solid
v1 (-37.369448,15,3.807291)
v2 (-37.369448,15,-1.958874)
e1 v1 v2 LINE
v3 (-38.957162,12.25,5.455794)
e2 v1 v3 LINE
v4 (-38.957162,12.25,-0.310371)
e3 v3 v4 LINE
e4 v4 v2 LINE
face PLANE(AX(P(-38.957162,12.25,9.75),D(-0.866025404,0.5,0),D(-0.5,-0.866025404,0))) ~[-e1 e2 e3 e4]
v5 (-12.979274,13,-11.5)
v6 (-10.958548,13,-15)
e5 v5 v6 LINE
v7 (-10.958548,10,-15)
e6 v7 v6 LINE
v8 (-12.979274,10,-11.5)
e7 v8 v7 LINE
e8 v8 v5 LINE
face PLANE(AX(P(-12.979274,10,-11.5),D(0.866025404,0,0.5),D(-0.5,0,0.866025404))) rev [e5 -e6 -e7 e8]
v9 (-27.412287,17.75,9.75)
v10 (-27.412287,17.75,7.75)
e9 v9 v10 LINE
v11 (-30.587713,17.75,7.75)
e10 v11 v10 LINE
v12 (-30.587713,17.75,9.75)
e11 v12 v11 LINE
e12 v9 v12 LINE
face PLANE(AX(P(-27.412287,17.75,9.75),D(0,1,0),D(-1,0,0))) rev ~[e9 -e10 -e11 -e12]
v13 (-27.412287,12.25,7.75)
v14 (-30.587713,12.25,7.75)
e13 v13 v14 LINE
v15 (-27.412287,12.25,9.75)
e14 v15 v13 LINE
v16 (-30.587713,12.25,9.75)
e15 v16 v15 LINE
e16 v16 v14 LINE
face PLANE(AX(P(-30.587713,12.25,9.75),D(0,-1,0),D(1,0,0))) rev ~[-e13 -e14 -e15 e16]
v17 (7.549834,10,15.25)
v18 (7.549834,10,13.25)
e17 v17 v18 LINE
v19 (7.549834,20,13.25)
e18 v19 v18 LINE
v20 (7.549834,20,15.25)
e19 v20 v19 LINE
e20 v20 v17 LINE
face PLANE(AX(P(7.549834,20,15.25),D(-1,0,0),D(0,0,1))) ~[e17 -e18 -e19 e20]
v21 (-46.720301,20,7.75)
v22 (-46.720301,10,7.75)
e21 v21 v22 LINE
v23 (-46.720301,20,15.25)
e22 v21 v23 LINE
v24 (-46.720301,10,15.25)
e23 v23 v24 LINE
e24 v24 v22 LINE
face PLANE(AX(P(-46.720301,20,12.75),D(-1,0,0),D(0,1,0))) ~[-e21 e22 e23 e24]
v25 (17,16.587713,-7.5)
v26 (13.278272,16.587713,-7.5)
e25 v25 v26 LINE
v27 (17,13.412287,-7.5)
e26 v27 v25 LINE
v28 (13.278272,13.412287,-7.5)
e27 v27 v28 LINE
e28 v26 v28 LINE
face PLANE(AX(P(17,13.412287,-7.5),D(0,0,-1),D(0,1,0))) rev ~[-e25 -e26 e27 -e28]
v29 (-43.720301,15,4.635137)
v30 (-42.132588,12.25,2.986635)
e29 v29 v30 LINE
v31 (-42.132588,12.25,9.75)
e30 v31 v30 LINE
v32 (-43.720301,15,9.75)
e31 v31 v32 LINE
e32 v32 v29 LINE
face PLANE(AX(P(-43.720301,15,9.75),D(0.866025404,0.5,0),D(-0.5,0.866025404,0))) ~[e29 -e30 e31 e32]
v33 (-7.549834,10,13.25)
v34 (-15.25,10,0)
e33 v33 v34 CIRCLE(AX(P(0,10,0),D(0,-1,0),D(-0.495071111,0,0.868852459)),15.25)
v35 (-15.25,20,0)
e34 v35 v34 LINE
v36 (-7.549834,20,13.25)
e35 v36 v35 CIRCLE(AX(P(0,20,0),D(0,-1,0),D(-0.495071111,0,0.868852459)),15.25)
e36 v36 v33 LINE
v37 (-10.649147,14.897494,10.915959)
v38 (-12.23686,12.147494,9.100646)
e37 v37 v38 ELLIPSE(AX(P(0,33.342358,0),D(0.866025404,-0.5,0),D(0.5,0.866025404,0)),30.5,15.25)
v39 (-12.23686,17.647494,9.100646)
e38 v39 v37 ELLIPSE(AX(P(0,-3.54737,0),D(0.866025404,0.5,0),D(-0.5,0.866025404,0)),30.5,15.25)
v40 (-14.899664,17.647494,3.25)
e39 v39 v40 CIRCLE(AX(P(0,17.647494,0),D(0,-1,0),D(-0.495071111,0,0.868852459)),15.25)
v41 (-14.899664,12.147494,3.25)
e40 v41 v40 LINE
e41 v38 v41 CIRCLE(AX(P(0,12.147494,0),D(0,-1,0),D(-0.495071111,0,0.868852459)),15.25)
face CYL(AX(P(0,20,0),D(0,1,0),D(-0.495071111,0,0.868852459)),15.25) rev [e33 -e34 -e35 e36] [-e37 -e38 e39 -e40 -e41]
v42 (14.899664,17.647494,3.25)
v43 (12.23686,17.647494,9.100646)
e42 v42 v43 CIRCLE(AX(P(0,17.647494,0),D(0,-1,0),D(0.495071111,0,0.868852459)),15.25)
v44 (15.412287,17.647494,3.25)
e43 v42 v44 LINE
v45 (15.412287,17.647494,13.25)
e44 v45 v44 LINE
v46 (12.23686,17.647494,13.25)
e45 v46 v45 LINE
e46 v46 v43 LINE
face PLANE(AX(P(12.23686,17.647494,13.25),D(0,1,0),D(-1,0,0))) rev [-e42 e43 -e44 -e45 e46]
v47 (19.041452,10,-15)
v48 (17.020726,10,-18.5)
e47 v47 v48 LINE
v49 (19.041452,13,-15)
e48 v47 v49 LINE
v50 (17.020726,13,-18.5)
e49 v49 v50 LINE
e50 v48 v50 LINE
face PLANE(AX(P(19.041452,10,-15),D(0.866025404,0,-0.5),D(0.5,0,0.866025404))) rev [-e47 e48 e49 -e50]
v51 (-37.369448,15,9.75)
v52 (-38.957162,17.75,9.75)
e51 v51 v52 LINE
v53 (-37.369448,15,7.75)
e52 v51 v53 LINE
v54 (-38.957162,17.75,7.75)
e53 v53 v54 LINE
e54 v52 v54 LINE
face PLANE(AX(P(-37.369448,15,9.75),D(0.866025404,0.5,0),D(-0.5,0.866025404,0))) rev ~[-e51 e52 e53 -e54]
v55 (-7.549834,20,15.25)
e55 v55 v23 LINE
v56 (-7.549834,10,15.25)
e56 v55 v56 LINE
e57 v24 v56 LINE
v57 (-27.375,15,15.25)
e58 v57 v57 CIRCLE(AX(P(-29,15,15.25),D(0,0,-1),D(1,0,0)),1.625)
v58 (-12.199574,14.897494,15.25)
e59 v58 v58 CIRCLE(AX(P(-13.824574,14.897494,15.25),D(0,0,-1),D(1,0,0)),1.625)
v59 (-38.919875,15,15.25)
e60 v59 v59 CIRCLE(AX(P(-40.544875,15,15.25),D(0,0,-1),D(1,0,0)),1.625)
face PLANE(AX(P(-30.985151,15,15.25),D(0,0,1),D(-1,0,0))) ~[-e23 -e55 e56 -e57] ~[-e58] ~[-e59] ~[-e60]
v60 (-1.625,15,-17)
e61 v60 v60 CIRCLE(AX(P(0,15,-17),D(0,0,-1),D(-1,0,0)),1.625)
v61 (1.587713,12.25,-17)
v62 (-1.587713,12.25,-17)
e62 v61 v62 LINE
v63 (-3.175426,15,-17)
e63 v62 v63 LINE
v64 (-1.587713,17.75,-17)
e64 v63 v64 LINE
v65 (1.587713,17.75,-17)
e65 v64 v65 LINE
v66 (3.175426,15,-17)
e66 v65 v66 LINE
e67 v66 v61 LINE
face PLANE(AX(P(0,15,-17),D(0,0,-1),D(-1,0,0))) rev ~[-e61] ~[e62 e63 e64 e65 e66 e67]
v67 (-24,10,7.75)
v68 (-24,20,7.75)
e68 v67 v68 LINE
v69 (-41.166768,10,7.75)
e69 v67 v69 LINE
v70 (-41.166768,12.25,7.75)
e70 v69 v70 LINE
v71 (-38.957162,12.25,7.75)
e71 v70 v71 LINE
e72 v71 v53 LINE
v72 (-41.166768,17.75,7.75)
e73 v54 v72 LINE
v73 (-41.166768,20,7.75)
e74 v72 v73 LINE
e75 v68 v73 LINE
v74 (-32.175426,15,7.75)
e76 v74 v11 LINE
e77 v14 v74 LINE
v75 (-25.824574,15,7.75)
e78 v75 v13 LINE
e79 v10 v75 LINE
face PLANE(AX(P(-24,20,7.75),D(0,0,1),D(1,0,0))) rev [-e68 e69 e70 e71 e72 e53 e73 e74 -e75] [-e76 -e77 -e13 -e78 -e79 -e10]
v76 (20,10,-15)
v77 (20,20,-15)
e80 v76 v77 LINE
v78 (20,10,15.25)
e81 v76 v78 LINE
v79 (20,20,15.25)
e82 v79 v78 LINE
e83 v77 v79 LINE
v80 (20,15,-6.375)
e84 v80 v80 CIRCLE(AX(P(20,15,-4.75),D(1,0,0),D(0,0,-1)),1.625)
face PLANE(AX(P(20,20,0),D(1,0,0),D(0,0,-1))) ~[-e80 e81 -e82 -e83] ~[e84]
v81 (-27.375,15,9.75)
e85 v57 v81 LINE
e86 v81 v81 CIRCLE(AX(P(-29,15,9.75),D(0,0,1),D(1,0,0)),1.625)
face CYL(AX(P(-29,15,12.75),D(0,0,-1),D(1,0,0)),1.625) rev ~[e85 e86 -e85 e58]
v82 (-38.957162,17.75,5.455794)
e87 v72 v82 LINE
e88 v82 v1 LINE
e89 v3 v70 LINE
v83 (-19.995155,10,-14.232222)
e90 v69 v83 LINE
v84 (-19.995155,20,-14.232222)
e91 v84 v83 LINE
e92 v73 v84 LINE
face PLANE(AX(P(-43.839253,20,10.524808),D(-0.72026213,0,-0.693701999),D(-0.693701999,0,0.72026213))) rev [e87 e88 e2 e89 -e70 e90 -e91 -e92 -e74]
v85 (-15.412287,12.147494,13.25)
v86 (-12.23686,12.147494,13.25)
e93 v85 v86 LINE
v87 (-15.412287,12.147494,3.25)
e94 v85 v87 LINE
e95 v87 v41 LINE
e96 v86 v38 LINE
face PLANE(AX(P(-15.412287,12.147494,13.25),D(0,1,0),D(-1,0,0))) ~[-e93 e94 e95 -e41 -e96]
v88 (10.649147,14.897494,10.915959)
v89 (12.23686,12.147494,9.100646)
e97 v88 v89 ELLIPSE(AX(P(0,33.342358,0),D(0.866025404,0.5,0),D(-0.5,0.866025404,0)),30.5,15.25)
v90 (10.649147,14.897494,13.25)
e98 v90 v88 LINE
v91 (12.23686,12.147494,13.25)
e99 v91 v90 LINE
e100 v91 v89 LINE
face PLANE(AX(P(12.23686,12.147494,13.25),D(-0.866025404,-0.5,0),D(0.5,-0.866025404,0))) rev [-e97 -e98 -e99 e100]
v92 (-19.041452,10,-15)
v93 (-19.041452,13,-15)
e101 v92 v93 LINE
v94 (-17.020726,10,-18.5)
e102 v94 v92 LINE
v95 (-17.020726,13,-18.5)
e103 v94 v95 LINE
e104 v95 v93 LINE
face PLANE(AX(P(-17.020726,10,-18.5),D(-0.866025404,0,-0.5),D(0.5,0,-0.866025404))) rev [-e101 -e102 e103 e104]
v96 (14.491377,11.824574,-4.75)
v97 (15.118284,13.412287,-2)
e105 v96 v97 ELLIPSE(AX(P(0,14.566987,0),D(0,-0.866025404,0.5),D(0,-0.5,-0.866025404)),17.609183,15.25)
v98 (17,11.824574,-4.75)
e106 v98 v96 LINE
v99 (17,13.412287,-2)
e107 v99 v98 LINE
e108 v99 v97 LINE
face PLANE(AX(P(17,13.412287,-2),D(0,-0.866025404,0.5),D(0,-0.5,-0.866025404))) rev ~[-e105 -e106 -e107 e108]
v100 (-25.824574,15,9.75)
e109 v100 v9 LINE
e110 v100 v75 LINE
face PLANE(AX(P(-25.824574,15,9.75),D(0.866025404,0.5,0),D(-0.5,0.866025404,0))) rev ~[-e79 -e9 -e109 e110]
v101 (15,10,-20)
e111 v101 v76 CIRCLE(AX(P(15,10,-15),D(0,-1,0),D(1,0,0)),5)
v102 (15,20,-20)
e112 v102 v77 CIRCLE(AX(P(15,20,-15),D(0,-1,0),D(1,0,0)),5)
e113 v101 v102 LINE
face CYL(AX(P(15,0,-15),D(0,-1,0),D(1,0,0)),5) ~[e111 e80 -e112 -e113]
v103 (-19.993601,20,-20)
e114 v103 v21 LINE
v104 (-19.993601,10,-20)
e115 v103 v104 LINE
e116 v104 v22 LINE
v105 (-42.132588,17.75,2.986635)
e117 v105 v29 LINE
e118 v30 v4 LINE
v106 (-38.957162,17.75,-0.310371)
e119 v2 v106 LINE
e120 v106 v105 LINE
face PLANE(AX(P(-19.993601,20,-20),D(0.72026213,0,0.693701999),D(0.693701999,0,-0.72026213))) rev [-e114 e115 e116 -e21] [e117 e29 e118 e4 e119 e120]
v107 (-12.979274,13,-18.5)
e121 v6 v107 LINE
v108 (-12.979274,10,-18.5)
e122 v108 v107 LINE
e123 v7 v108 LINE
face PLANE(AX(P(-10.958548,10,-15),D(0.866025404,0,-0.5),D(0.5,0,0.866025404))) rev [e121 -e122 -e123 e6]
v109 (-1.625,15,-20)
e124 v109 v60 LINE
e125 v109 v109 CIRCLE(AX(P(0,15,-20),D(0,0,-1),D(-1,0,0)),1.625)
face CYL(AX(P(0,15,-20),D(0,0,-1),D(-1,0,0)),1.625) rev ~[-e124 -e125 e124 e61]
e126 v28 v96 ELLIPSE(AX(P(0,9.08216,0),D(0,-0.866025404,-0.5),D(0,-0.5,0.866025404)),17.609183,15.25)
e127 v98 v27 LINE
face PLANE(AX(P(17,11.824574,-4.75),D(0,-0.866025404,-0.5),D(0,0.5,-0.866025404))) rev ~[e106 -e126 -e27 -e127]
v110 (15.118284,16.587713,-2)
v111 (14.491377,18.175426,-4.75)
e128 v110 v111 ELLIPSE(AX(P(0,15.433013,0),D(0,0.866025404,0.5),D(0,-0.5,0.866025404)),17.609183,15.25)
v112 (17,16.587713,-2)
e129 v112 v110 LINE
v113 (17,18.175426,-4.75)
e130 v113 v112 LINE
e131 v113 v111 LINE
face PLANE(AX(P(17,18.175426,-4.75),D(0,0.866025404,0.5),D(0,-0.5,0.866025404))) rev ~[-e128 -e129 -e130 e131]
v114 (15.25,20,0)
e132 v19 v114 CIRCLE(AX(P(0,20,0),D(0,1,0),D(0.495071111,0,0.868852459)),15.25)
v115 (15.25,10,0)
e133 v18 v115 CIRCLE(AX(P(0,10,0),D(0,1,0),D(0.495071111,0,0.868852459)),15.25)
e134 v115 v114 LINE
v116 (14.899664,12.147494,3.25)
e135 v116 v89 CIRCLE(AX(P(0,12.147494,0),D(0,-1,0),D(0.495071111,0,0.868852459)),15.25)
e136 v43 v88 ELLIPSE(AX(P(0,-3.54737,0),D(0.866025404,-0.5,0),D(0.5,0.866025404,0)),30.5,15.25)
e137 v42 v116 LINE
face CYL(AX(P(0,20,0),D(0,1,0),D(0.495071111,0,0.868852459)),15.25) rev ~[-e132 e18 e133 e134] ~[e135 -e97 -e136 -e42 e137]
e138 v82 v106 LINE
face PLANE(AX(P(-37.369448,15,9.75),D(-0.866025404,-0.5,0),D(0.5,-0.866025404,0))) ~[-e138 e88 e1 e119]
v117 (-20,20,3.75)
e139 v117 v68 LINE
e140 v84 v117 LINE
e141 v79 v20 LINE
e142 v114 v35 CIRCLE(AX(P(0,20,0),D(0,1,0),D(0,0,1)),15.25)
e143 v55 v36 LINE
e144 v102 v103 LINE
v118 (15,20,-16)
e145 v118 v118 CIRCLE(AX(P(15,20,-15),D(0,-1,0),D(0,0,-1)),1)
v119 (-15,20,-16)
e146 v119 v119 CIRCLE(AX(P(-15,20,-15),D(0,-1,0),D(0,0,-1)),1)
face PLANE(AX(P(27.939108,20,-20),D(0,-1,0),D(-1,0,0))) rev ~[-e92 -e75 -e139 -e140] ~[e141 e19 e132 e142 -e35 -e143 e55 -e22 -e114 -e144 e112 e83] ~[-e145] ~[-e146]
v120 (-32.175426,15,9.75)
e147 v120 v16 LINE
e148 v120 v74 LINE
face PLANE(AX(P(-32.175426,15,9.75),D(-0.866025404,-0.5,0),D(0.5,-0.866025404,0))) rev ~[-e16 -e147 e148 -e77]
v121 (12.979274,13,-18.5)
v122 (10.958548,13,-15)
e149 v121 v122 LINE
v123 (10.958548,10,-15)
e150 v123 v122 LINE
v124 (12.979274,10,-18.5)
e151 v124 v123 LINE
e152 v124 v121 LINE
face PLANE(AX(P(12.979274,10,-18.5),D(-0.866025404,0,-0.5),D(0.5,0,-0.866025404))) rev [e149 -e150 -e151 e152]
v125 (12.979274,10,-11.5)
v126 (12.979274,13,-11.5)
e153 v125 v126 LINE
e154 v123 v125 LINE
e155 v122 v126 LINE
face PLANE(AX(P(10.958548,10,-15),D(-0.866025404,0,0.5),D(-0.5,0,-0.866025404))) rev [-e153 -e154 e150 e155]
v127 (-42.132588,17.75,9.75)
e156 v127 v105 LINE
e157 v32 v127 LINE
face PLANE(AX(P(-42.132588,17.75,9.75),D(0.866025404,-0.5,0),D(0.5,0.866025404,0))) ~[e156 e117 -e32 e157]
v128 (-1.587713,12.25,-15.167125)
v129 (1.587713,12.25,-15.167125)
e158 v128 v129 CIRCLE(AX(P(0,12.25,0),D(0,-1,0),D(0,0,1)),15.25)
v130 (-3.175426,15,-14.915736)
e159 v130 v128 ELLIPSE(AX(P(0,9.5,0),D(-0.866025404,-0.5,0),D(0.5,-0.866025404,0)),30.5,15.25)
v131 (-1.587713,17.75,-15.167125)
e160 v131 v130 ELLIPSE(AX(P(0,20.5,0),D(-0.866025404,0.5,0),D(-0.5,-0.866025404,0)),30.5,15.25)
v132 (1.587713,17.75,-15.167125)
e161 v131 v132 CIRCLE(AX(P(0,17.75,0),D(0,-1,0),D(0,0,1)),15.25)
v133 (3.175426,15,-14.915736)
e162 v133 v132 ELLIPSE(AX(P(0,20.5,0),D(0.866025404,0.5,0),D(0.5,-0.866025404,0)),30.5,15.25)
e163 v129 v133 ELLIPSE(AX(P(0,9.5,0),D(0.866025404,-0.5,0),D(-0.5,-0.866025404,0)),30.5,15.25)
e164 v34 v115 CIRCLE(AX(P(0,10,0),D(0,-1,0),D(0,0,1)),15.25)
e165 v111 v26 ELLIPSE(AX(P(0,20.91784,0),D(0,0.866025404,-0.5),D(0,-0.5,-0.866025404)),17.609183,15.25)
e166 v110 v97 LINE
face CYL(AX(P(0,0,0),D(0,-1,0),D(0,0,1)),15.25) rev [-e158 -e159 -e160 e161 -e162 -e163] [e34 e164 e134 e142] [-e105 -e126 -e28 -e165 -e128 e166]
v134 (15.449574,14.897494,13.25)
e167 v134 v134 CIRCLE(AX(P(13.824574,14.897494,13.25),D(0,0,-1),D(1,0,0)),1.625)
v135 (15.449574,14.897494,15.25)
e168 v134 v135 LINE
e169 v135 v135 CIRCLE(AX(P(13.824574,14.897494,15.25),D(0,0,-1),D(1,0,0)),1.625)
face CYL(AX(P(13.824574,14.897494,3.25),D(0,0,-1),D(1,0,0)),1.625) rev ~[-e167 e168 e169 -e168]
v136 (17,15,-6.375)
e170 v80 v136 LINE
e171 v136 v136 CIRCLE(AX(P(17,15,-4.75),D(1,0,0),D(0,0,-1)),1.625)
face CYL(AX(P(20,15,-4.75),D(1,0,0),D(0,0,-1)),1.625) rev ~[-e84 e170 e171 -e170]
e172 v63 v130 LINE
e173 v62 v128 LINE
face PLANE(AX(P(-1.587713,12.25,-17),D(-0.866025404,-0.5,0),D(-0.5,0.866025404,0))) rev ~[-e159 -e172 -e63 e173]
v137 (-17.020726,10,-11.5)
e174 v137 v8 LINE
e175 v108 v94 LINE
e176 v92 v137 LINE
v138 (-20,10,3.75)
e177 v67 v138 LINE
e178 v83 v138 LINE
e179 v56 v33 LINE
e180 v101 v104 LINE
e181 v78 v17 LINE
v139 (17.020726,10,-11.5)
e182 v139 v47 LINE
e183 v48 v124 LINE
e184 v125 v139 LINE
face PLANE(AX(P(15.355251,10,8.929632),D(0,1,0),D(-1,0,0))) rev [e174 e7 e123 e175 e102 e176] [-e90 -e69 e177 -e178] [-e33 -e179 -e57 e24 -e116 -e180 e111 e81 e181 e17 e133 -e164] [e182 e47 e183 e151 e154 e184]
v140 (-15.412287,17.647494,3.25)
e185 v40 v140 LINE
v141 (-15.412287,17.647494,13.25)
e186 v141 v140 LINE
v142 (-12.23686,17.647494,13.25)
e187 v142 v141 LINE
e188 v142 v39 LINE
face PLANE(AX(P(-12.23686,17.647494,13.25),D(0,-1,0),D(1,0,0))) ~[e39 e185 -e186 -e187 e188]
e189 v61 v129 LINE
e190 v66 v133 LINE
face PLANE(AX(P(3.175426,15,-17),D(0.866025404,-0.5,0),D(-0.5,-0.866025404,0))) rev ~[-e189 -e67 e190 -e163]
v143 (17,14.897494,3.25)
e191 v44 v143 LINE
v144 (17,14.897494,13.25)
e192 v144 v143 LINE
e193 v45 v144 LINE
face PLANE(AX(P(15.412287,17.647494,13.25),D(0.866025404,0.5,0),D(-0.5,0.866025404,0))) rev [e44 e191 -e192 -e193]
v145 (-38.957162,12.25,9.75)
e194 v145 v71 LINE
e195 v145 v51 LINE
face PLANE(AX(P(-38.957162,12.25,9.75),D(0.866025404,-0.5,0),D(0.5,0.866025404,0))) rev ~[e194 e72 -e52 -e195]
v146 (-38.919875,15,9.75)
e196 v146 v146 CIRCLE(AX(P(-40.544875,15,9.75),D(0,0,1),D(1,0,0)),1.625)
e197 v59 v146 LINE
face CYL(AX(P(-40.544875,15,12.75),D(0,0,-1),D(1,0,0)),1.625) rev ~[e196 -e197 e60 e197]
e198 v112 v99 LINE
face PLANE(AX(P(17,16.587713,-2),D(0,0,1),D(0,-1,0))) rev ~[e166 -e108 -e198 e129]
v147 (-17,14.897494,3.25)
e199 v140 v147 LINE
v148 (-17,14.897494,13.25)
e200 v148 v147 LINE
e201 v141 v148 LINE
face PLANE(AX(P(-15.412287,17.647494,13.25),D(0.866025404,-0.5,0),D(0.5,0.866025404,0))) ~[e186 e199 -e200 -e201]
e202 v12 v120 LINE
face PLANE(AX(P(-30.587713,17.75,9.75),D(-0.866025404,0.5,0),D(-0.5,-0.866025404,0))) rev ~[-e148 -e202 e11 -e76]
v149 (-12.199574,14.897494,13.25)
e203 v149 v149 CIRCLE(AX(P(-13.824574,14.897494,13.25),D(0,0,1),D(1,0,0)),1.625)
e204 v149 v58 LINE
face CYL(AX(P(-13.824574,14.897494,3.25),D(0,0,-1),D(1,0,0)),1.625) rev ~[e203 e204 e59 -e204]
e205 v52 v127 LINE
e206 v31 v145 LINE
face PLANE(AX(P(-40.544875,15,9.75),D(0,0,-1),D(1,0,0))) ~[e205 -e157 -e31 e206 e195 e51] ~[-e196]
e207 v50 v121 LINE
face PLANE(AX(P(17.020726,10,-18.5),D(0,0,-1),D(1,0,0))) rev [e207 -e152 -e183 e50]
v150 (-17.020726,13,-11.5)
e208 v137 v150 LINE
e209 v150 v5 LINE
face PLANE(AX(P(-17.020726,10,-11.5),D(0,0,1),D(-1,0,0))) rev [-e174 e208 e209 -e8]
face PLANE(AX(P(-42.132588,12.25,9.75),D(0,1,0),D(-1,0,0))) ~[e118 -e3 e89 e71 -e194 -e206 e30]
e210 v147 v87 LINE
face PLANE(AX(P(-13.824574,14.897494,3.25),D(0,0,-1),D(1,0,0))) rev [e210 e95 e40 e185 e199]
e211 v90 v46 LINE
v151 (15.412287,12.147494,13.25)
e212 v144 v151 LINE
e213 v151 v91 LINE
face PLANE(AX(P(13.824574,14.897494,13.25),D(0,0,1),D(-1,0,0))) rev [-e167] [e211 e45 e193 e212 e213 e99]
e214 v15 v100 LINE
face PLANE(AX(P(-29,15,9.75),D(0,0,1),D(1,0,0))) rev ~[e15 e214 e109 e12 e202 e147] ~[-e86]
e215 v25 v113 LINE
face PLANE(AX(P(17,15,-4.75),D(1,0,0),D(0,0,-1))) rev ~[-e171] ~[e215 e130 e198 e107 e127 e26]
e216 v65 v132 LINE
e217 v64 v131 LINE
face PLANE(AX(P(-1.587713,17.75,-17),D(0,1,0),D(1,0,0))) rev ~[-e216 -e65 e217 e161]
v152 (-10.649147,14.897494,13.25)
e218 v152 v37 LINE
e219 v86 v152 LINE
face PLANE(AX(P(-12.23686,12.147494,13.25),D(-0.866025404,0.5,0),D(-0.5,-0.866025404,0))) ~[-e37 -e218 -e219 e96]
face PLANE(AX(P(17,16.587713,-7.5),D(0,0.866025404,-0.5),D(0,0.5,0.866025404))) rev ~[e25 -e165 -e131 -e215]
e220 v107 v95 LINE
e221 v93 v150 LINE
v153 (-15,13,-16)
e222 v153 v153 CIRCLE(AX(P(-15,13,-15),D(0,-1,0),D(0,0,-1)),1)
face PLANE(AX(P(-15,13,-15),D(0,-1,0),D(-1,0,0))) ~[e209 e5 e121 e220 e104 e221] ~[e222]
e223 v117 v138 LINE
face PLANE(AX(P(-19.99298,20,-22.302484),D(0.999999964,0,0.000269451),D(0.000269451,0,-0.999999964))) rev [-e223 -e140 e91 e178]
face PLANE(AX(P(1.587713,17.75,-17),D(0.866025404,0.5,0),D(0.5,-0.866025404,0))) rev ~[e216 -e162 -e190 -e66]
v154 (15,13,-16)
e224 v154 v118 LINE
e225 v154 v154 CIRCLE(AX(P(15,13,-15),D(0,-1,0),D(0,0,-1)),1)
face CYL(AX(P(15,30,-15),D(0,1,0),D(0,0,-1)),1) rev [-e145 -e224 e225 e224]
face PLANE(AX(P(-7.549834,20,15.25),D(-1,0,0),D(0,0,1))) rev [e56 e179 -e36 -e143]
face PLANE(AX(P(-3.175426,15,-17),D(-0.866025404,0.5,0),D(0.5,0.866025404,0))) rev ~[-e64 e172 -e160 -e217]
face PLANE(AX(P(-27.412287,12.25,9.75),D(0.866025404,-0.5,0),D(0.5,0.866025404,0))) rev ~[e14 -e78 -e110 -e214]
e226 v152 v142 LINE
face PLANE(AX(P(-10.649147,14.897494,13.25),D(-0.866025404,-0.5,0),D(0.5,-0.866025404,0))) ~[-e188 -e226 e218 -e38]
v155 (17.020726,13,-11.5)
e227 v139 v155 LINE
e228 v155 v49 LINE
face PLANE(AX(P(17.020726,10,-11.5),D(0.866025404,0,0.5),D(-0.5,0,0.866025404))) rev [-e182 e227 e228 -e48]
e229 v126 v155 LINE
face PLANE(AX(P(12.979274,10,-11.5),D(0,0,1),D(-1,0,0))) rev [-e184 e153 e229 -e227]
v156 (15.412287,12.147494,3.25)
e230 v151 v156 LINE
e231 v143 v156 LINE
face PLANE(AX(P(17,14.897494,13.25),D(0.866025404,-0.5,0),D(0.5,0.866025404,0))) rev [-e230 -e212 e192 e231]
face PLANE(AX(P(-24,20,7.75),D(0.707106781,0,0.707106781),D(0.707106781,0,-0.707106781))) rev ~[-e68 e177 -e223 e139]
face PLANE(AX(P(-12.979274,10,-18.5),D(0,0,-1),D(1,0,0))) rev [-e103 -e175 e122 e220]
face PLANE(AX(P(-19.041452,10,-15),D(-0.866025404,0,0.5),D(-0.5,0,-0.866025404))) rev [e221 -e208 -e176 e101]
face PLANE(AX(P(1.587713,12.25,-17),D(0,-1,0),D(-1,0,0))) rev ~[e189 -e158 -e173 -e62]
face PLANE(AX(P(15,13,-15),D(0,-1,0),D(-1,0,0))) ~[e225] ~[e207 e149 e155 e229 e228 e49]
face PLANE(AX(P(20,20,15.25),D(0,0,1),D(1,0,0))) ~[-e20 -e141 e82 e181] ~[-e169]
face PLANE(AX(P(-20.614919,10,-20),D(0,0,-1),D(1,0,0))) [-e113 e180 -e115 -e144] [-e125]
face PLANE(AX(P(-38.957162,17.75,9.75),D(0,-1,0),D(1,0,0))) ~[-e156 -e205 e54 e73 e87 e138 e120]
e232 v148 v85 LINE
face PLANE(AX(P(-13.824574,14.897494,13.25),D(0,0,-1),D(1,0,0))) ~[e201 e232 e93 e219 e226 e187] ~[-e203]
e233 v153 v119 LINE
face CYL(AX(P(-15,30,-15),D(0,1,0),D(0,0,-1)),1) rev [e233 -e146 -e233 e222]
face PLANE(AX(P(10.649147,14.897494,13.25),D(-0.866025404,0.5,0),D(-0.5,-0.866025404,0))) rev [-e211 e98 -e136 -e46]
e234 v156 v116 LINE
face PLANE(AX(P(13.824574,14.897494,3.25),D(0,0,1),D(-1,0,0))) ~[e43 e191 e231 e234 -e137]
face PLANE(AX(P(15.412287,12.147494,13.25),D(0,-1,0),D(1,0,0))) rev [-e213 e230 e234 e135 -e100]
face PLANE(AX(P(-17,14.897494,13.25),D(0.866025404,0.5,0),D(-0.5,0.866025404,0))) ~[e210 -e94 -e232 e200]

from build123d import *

# Parameters (mm, degrees)
CROQUIS1_R                              = 15.25
CROQUIS1_R_2                            = 2.125
SOPORTE_CAJA_REDUCTORA_DEPTH            = 20
CROQUIS3_R                              = 2.125
CORTAR_EXTRUIR1_DEPTH                   = 51.423828692
REDONDEO1_R                             = 5
BOSS_EXTRUDE1_DEPTH                     = 20
CUT_EXTRUDE1_REACH                      = 55.852
SKETCH2_R                               = 1.625
CUT_EXTRUDE2_DEPTH                      = 2
SKETCH4_R                               = 1.625
CUT_EXTRUDE3_DEPTH                      = 63.291652731
CUT_EXTRUDE4_START                      = -4.5
CUT_EXTRUDE4_DEPTH                      = 2
CROQUIS6_W                              = 4.75
CROQUIS6_H                              = 4.75
CORTAR_EXTRUIR17_DEPTH                  = 42.231056256
CROQUIS7_W                              = 60
CROQUIS7_H                              = 20
CORTAR_EXTRUIR18_DEPTH                  = 51.423828692
SALIENTE_EXTRUIR2_DEPTH                 = 49
SOPORTE_START                           = -15
SOPORTE_MOTOR_DEPTH                     = 15
CROQUIS12_R                             = 2.125
AGUJEROS_DE_SUJECION_A_BASE_DEPTH       = 84.087679592
TUERCA_START                            = -4
TUERCA_AGUJERO_DE_SUJECION_A_BASE_DEPTH = 10
SALIENTE_EXTRUIR4_DEPTH                 = 15
CORTAR_EXTRUIR19_DEPTH                  = 25
CROQUIS14_W                             = 50
CROQUIS14_H                             = 118
CORTAR_EXTRUIR22_DEPTH                  = 146.556045907
CROQUIS15_W                             = 10
CROQUIS15_H                             = 7
CORTAR_EXTRUIR23_DEPTH                  = 42.231056256
CORTAR_EXTRUIR24_DEPTH                  = 42.231056256
CROQUIS18_W                             = 40
CROQUIS18_H                             = 10
CORTAR_EXTRUIR25_DEPTH                  = 44.27311521
SALIENTE_EXTRUIR5_DEPTH                 = 10
CROQUIS20_R                             = 1
CORTAR_EXTRUIR26_DEPTH                  = 49.229270158
CORTAR_EXTRUIR27_REACH                  = 62.959
CORTAR_EXTRUIR27_END_RADIUS             = 15.25
CROQUIS21_R                             = 1.625
CROQUIS22_R                             = 2.125
CROQUIS22_R_2                           = 1
SALIENTE_EXTRUIR6_DEPTH                 = 10
CROQUIS23_R                             = 1.625
CORTAR_EXTRUIR28_DEPTH                  = 52.269508521
CORTAR_EXTRUIR29_START                  = -3
CORTAR_EXTRUIR29_DEPTH                  = 10
SALIENTE_EXTRUIR7_DEPTH                 = 10
CORTAR_EXTRUIR30_REACH                  = 72.235
CROQUIS27_R                             = 1.625
CORTAR_EXTRUIR31_REACH                  = 75.235
CORTAR_EXTRUIR31_START                  = -3
CORTAR_EXTRUIR32_REACH                  = 58.612
CROQUIS29_R                             = 1.625
CORTAR_EXTRUIR33_REACH                  = 61.112
CORTAR_EXTRUIR33_START                  = -2.5
CROQUIS35_W                             = 13.305418987
CROQUIS35_H                             = 6.826864192
CORTAR_EXTRUIR34_DEPTH                  = 63.931555098
CORTAR_EXTRUIR34_DEPTH_BACK             = 63.931555098
CORTAR_EXTRUIR35_START                  = -3
CORTAR_EXTRUIR35_DEPTH                  = 10
SALIENTE_EXTRUIR8_DEPTH                 = 10
SALIENTE_EXTRUIR9_DEPTH                 = 13
SALIENTE_EXTRUIR10_DEPTH                = 3
CROQUIS40_W                             = 106.583537839
CROQUIS40_H                             = 47.391515964
CORTAR_EXTRUIR36_DEPTH                  = 80.887064817
CORTAR_EXTRUIR36_DEPTH_BACK             = 80.887064817
CORTAR_EXTRUIR37_DEPTH                  = 67.2524009
CORTAR_EXTRUIR37_DEPTH_BACK             = 67.2524009
CORTAR_EXTRUIR38_DEPTH                  = 79.704784639
CORTAR_EXTRUIR38_DEPTH_BACK             = 79.704784639
SALIENTE_EXTRUIR11_DEPTH                = 10
CORTAR_EXTRUIR39_DEPTH                  = 63.9908649
CROQUIS45_W                             = 31.470301378
CROQUIS45_H                             = 10
CROQUIS45_R                             = 1.625
SALIENTE_EXTRUIR12_DEPTH                = 2.5
SALIENTE_EXTRUIR13_DEPTH                = 10
CORTAR_EXTRUIR40_START                  = -2
CROQUIS47_R                             = 1.625
CORTAR_EXTRUIR40_DEPTH                  = 10
CORTAR_EXTRUIR41_START                  = -12
CROQUIS48_R                             = 1.625
CORTAR_EXTRUIR41_DEPTH                  = 12
CORTAR_EXTRUIR42_DEPTH                  = 3
CROQUIS50_W                             = 80.415439526
CROQUIS50_H                             = 16.145703155
CORTAR_EXTRUIR43_DEPTH                  = 66.767385996
CORTAR_EXTRUIR43_DEPTH_BACK             = 66.767385996


with BuildPart() as part:
    # Croquis1 → Soporte caja reductora (new body)
    with BuildSketch(Plane(origin=(0, 0, 0), x_dir=(1, 0, 0), z_dir=(0, 1, 0))):
        Polygon((-30, -15.25), (-20, -15.25), (-20, -20), (20, -20), (20, -15.25), (30, -15.25), (30, -7.25), (20, -4.25), (20, 20), (-20, 20), (-20, -4.25), (-30, -7.25), align=None)
        with Locations(Location((0, 0, 0), (0, 0, 270))):
            Circle(CROQUIS1_R, mode=Mode.SUBTRACT)
        with Locations(Location((-15, 15, 0), (0, 0, 270))):
            Circle(CROQUIS1_R_2, mode=Mode.SUBTRACT)
        with Locations(Location((15, 15, 0), (0, 0, 270))):
            Circle(CROQUIS1_R_2, mode=Mode.SUBTRACT)
    extrude(amount=-SOPORTE_CAJA_REDUCTORA_DEPTH)

    # Croquis3 → Cortar-Extruir1 (cut, through all)
    with BuildSketch(Plane.XY.offset(15.25)):
        with Locations((-23.5, -10)):
            Circle(CROQUIS3_R)
        with Locations((23.5, -10)):
            Circle(CROQUIS3_R)
    extrude(amount=-CORTAR_EXTRUIR1_DEPTH, mode=Mode.SUBTRACT)

    # Redondeo1
    redondeo1_edges = [part.edges().sort_by_distance(p)[0] for p in [
        (-20, -10, -20),
        (20, -10, -20),
    ]]
    fillet(redondeo1_edges, radius=REDONDEO1_R)

    # Sketch1 → Boss-Extrude1 (add)
    with BuildSketch(Plane(origin=(0, 0, 0), x_dir=(1, 0, 0), z_dir=(0, 1, 0))):
        with BuildLine():
            Line((25.5, 15), (20, 15))
            ThreePointArc((20, 15), (18.535533906, 18.535533906), (15, 20))
            Line((15, 20), (30, 20))
            Line((30, 20), (30, 8))
            Line((30, 8), (25.5, 8))
            Line((25.5, 8), (25.5, 15))
        make_face()
    extrude(amount=-BOSS_EXTRUDE1_DEPTH)

    # Sketch2 → Cut-Extrude1 (cut, up to next)
    with BuildSketch(Plane(origin=(0, 0, -20), x_dir=(-1, 0, 0), z_dir=(0, 0, -1)), mode=Mode.PRIVATE) as cut_extrude1_sk1:
        with Locations((-22.75, -10)):
            Circle(SKETCH2_R)
    cut_extrude1_tool1 = extrude(cut_extrude1_sk1.sketch, amount=-CUT_EXTRUDE1_REACH, mode=Mode.PRIVATE) & part.part
    add(cut_extrude1_tool1.solids().sort_by_distance((22.75, -10, -20))[0], mode=Mode.SUBTRACT)

    # Sketch3 → Cut-Extrude2 (cut)
    with BuildSketch(Plane.XY.offset(-15)):
        Polygon((20, -11.58771324), (22.75, -13.175426481), (25.5, -11.58771324), (25.5, -8.41228676), (22.75, -6.824573519), (20, -8.41228676), align=None)
    extrude(amount=-CUT_EXTRUDE2_DEPTH, mode=Mode.SUBTRACT)

    # Sketch4 → Cut-Extrude3 (cut, through all)
    with BuildSketch(Plane.ZY.offset(-25.5)):
        with Locations((-12.25, -10)):
            Circle(SKETCH4_R)
    extrude(amount=-CUT_EXTRUDE3_DEPTH, mode=Mode.SUBTRACT)

    # Sketch5 → Cut-Extrude4 (cut)
    with BuildSketch(Plane(origin=(30, 0, 0), x_dir=(0, 0, -1), z_dir=(1, 0, 0)).offset(CUT_EXTRUDE4_START)):
        Polygon((15, -11.58771324), (15, -8.41228676), (12.25, -6.824573519), (9.5, -8.41228676), (9.5, -11.58771324), (12.25, -13.175426481), align=None)
    extrude(amount=CUT_EXTRUDE4_DEPTH, mode=Mode.SUBTRACT)

    # Croquis6 → Cortar-Extruir17 (cut, through all)
    with BuildSketch(Plane(origin=(0, 0, 0), x_dir=(1, 0, 0), z_dir=(0, 1, 0))):
        Polygon((0, -15.25), (-15.25, -15.25), (-15.25, -20), (15.25, -20), (15.25, -15.25), align=None)
        with Locations((-17.625, -17.625)):
            Rectangle(CROQUIS6_W, CROQUIS6_H)
        with BuildLine():
            ThreePointArc((0, -15.25), (-10.783378413, -10.783378413), (-15.25, 0))
            Line((-15.25, 0), (-15.25, -15.25))
            Line((-15.25, -15.25), (0, -15.25))
        make_face()
        with BuildLine():
            Line((15.25, -15.25), (15.25, 0))
            ThreePointArc((15.25, 0), (10.783378413, -10.783378413), (0, -15.25))
            Line((0, -15.25), (15.25, -15.25))
        make_face()
        with Locations((17.625, -17.625)):
            Rectangle(CROQUIS6_W, CROQUIS6_H)
    extrude(amount=-CORTAR_EXTRUIR17_DEPTH, mode=Mode.SUBTRACT)


with BuildPart() as body_2:
    # Simetría1: mirrored copy
    add(part.part.mirror(Plane.ZX))

    # Croquis8 → Saliente-Extruir2 (add)
    with BuildSketch(Plane(origin=(0, 20, 0), x_dir=(1, 0, 0), z_dir=(0, 1, 0))):
        with BuildLine():
            Line((-12.664515522, 20), (-11.040489496, 13.939052358))
            Line((-11.040489496, 13.939052358), (-10.315162126, 11.232093763))
            ThreePointArc((-10.315162126, 11.232093763), (0, 15.25), (10.315162126, 11.232093763))
            Line((10.315162126, 11.232093763), (10.817418481, 13.87928066))
            Line((10.817418481, 13.87928066), (11.978715476, 20))
            Line((11.978715476, 20), (-12.664515522, 20))
        make_face()
    extrude(amount=SALIENTE_EXTRUIR2_DEPTH)

    # Croquis9 → Soporte motor (add)
    with BuildSketch(Plane(origin=(0, 69, 0), x_dir=(1, 0, 0), z_dir=(0, 1, 0)).offset(SOPORTE_START)):
        with BuildLine():
            Line((-20, 15), (-20, -4.25))
            Line((-20, -4.25), (-30, -7.25))
            Line((-30, -7.25), (-30, -15.25))
            Line((-30, -15.25), (0, -15.25))
            Line((0, -15.25), (0, -14.75))
            ThreePointArc((0, -14.75), (-10.429825023, 10.429825023), (14.75, 0))
            Line((14.75, 0), (20, 0))
            Line((20, 0), (20, 13.936837101))
            Line((20, 13.936837101), (12.664515522, 20))
            Line((12.664515522, 20), (-15, 20))
            ThreePointArc((-15, 20), (-18.535533906, 18.535533906), (-20, 15))
        make_face()
    extrude(amount=-SOPORTE_MOTOR_DEPTH)

    # Croquis12 → Agujeros de sujecion a base (cut, through all)
    with BuildSketch(Plane.XY.offset(15.25)):
        with Locations((-23.5, 46.5)):
            Circle(CROQUIS12_R)
    extrude(amount=-AGUJEROS_DE_SUJECION_A_BASE_DEPTH, mode=Mode.SUBTRACT)

    # Croquis13 → Tuerca Agujero de sujecion a base (cut)
    with BuildSketch(Plane.XY.offset(15.25).offset(TUERCA_START)):
        Polygon((-20, 44.479274058), (-20, 48.520725942), (-23.5, 50.541451884), (-27, 48.520725942), (-27, 44.479274058), (-23.5, 42.458548116), align=None)
    extrude(amount=-TUERCA_AGUJERO_DE_SUJECION_A_BASE_DEPTH, mode=Mode.SUBTRACT)

    # Croquis10 → Saliente-Extruir4 (add)
    with BuildSketch(Plane(origin=(0, 69, 0), x_dir=(1, 0, 0), z_dir=(0, 1, 0))):
        with BuildLine():
            ThreePointArc((10.315162126, 11.232093763), (0, 15.25), (-10.315162126, 11.232093763))
            Line((-10.315162126, 11.232093763), (-10.16850369, 10.684757026))
            ThreePointArc((-10.16850369, 10.684757026), (0, 14.75), (10.16850369, 10.684757026))
            Line((10.16850369, 10.684757026), (10.315162126, 11.232093763))
        make_face()
    extrude(amount=-SALIENTE_EXTRUIR4_DEPTH)

    # Croquis11 → Cortar-Extruir19 (cut)
    with BuildSketch(Plane.XZ):
        with BuildLine():
            Line((15.25, 4.25), (20, 4.25))
            Line((20, 4.25), (21.972856468, 4.84185694))
            ThreePointArc((21.972856468, 4.84185694), (19.948931102, 10.40625523), (16.543503257, 15.25))
            Line((16.543503257, 15.25), (15.25, 15.25))
            Line((15.25, 15.25), (15.25, 4.25))
        make_face()
        with BuildLine():
            Line((21.972856468, 4.84185694), (30, 7.25))
            Line((30, 7.25), (30, 15.25))
            Line((30, 15.25), (16.543503257, 15.25))
            ThreePointArc((16.543503257, 15.25), (19.948931102, 10.40625523), (21.972856468, 4.84185694))
        make_face()
        with BuildLine():
            ThreePointArc((20, -15), (18.535533906, -18.535533906), (15, -20))
            Line((15, -20), (30, -20))
            Line((30, -20), (30, -8))
            Line((30, -8), (25.5, -8))
            Line((25.5, -8), (25.5, -15))
            Line((25.5, -15), (20, -15))
        make_face()
    extrude(amount=-CORTAR_EXTRUIR19_DEPTH, mode=Mode.SUBTRACT)

    # Simetría2: body 2 across face


with BuildPart() as part_1:
    add(part.part)

    # Croquis7 → Cortar-Extruir18 (cut, through all)
    with BuildSketch(Plane(origin=(0, 0, -20), x_dir=(-1, 0, 0), z_dir=(0, 0, -1))):
        with Locations((0, -10)):
            Rectangle(CROQUIS7_W, CROQUIS7_H)
    extrude(amount=-CORTAR_EXTRUIR18_DEPTH, mode=Mode.SUBTRACT)


with BuildPart() as body_2_1:
    add(body_2.part)
    add(body_2.part.mirror(Plane(origin=(-0.229209569, 69, -16.663998028), x_dir=(0, 0, 1), z_dir=(0, 1, 0))))

    # Croquis14 → Cortar-Extruir22 (cut, through all)
    with BuildSketch(Plane.XY.offset(15.25)):
        with Locations((-5, 79)):
            Rectangle(CROQUIS14_W, CROQUIS14_H)
    extrude(amount=-CORTAR_EXTRUIR22_DEPTH, mode=Mode.SUBTRACT)

    # Croquis15 → Cortar-Extruir23 (cut, through all)
    with BuildSketch(Plane.XZ):
        with Locations((-25, 7.75)):
            Rectangle(CROQUIS15_W, CROQUIS15_H)
    extrude(amount=-CORTAR_EXTRUIR23_DEPTH, mode=Mode.SUBTRACT)

    # Croquis16 → Cortar-Extruir24 (cut, through all)
    with BuildSketch(Plane.XZ):
        Polygon((-30, 15.25), (-15.25, 15.25), (-15.25, 12.75), (-20, 12.75), (-20, 11.25), (-30, 11.25), (-30, 12.75), align=None)
    extrude(amount=-CORTAR_EXTRUIR24_DEPTH, mode=Mode.SUBTRACT)

    # Croquis18 → Cortar-Extruir25 (cut, through all)
    with BuildSketch(Plane(origin=(0, 0, -20), x_dir=(-1, 0, 0), z_dir=(0, 0, -1))):
        with Locations((0, 5)):
            Rectangle(CROQUIS18_W, CROQUIS18_H)
    extrude(amount=-CORTAR_EXTRUIR25_DEPTH, mode=Mode.SUBTRACT)

    # Croquis19 → Saliente-Extruir5 (add)
    with BuildSketch(Plane(origin=(0, 20, 0), x_dir=(1, 0, 0), z_dir=(0, 1, 0))):
        Polygon((-20, -12.75), (-34, -12.75), (-34, -7.75), (-24, -7.75), (-20, -3.75), align=None)
    extrude(amount=-SALIENTE_EXTRUIR5_DEPTH)

    # Croquis20 → Cortar-Extruir26 (cut, through all)
    with BuildSketch(Plane(origin=(0, 0, 7.75), x_dir=(-1, 0, 0), z_dir=(0, 0, -1))):
        with Locations((29, 15)):
            Circle(CROQUIS20_R)
    extrude(amount=-CORTAR_EXTRUIR26_DEPTH, mode=Mode.SUBTRACT)

    # Cortar-Extruir27: up to this cylinder (the profile starts outside it)
    cortar_extruir27_end = Plane(origin=(0, 15, 0), z_dir=(0, -1, 0)) * Cylinder(CORTAR_EXTRUIR27_END_RADIUS, 157.418, mode=Mode.PRIVATE)
    # Croquis21 → Cortar-Extruir27 (cut, up to the surface)
    with BuildSketch(Plane(origin=(20, 0, 0), x_dir=(0, 0, -1), z_dir=(1, 0, 0)), mode=Mode.PRIVATE) as cortar_extruir27_sk1:
        with Locations((4.75, 15)):
            Circle(CROQUIS21_R)
    cortar_extruir27_tool1 = extrude(cortar_extruir27_sk1.sketch, amount=-CORTAR_EXTRUIR27_REACH, mode=Mode.PRIVATE) - cortar_extruir27_end
    add(cortar_extruir27_tool1.solids().sort_by_distance((20, 15, -4.75))[0], mode=Mode.SUBTRACT)

    # Croquis22 → Saliente-Extruir6 (add)
    with BuildSketch(Plane.XZ.offset(-10)):
        with Locations((-15, -15)):
            Circle(CROQUIS22_R)
        with Locations(Location((-15, -15, 0), (0, 0, 270))):
            Circle(CROQUIS22_R_2, mode=Mode.SUBTRACT)
        with Locations((15, -15)):
            Circle(CROQUIS22_R)
        with Locations(Location((15, -15, 0), (0, 0, 270))):
            Circle(CROQUIS22_R_2, mode=Mode.SUBTRACT)
    extrude(amount=-SALIENTE_EXTRUIR6_DEPTH)

    # Croquis23 → Cortar-Extruir28 (cut, through all)
    with BuildSketch(Plane(origin=(0, 0, -20), x_dir=(-1, 0, 0), z_dir=(0, 0, -1))):
        with Locations((0, 15)):
            Circle(CROQUIS23_R)
    extrude(amount=-CORTAR_EXTRUIR28_DEPTH, mode=Mode.SUBTRACT)

    # Croquis24 → Cortar-Extruir29 (cut)
    with BuildSketch(Plane(origin=(0, 0, -20), x_dir=(-1, 0, 0), z_dir=(0, 0, -1)).offset(CORTAR_EXTRUIR29_START)):
        Polygon((1.58771324, 12.25), (3.175426481, 15), (1.58771324, 17.75), (-1.58771324, 17.75), (-3.175426481, 15), (-1.58771324, 12.25), align=None)
    extrude(amount=-CORTAR_EXTRUIR29_DEPTH, mode=Mode.SUBTRACT)

    # Croquis26 → Saliente-Extruir7 (add)
    with BuildSketch(Plane.XZ.offset(-10)):
        Polygon((-34, 7.75), (-34, 12.75), (-58.825, 12.75), (-39.160527763, -4.104491148), (-20, -4.104491148), (-20, -0.104491148), (-35.732113118, -0.104491148), (-29, 7.75), align=None)
        Polygon((-34.268209086, 7.75), (-39.594516123, 1.535690951), (-46.844874897, 7.75), align=None, mode=Mode.SUBTRACT)
    extrude(amount=-SALIENTE_EXTRUIR7_DEPTH)

    # Croquis27 → Cortar-Extruir30 (cut, up to next)
    with BuildSketch(Plane.XY.offset(12.75), mode=Mode.PRIVATE) as cortar_extruir30_sk1:
        with Locations((-40.544874897, 15)):
            Circle(CROQUIS27_R)
    cortar_extruir30_tool1 = extrude(cortar_extruir30_sk1.sketch, amount=-CORTAR_EXTRUIR30_REACH, mode=Mode.PRIVATE) & body_2_1.part
    # Croquis27 → Cortar-Extruir30 (cut, up to next)
    with BuildSketch(Plane.XY.offset(12.75), mode=Mode.PRIVATE) as cortar_extruir30_sk2:
        with Locations((-29, 15)):
            Circle(CROQUIS27_R)
    cortar_extruir30_tool2 = extrude(cortar_extruir30_sk2.sketch, amount=-CORTAR_EXTRUIR30_REACH, mode=Mode.PRIVATE) & body_2_1.part
    add(cortar_extruir30_tool1.solids().sort_by_distance((-40.544875, 15, 12.75))[0], mode=Mode.SUBTRACT)
    add(cortar_extruir30_tool2.solids().sort_by_distance((-29, 15, 12.75))[0], mode=Mode.SUBTRACT)

    # Croquis28 → Cortar-Extruir31 (cut, up to next)
    with BuildSketch(Plane.XY.offset(12.75).offset(CORTAR_EXTRUIR31_START), mode=Mode.PRIVATE) as cortar_extruir31_sk1:
        Polygon((-38.957161657, 12.25), (-37.369448416, 15), (-38.957161657, 17.75), (-42.132588137, 17.75), (-43.720301378, 15), (-42.132588137, 12.25), align=None)
    cortar_extruir31_tool1 = extrude(cortar_extruir31_sk1.sketch, amount=-CORTAR_EXTRUIR31_REACH, mode=Mode.PRIVATE) & body_2_1.part
    # Croquis28 → Cortar-Extruir31 (cut, up to next)
    with BuildSketch(Plane.XY.offset(12.75).offset(CORTAR_EXTRUIR31_START), mode=Mode.PRIVATE) as cortar_extruir31_sk2:
        Polygon((-27.41228676, 12.25), (-25.824573519, 15), (-27.41228676, 17.75), (-30.58771324, 17.75), (-32.175426481, 15), (-30.58771324, 12.25), align=None)
    cortar_extruir31_tool2 = extrude(cortar_extruir31_sk2.sketch, amount=-CORTAR_EXTRUIR31_REACH, mode=Mode.PRIVATE) & body_2_1.part
    add(cortar_extruir31_tool1.solids().sort_by_distance((-40.544875, 15, 9.75))[0], mode=Mode.SUBTRACT)
    add(cortar_extruir31_tool2.solids().sort_by_distance((-29, 15, 9.75))[0], mode=Mode.SUBTRACT)

    # Croquis29 → Cortar-Extruir32 (cut, up to next)
    with BuildSketch(Plane(origin=(-18.612848159, 0, -21.715982563), x_dir=(-0.7592713073348843, 0, 0.6507742172658468), z_dir=(-0.6507742172658468, 0, -0.7592713073348843)), mode=Mode.PRIVATE) as cortar_extruir32_sk1:
        with Locations((33.812368097, 15)):
            Circle(CROQUIS29_R)
    cortar_extruir32_tool1 = extrude(cortar_extruir32_sk1.sketch, amount=-CORTAR_EXTRUIR32_REACH, mode=Mode.PRIVATE) & body_2_1.part
    add(cortar_extruir32_tool1.solids().sort_by_distance((-44.285609, 15, 0.288235))[0], mode=Mode.SUBTRACT)

    # Croquis31 → Cortar-Extruir33 (cut, up to next)
    with BuildSketch(Plane(origin=(-18.612848159, 0, -21.715982563), x_dir=(-0.7592713073348843, 0, 0.6507742172658468), z_dir=(-0.6507742172658468, 0, -0.7592713073348843)).offset(CORTAR_EXTRUIR33_START), mode=Mode.PRIVATE) as cortar_extruir33_sk1:
        Polygon((36.562368097, 16.58771324), (33.812368097, 18.175426481), (31.062368097, 16.58771324), (31.062368097, 13.41228676), (33.812368097, 11.824573519), (36.562368097, 13.41228676), align=None)
    cortar_extruir33_tool1 = extrude(cortar_extruir33_sk1.sketch, amount=-CORTAR_EXTRUIR33_REACH, mode=Mode.PRIVATE) & body_2_1.part
    add(cortar_extruir33_tool1.solids().sort_by_distance((-42.658674, 15, 2.186413))[0], mode=Mode.SUBTRACT)

    # Croquis35 → Cortar-Extruir34 (cut, two sides)
    with BuildSketch(Plane(origin=(0, 20, 0), x_dir=(1, 0, 0), z_dir=(0, 1, 0))) as cortar_extruir34_sk:
        with Locations((17.04227466, -3.413432096)):
            Rectangle(CROQUIS35_W, CROQUIS35_H)
    extrude(amount=CORTAR_EXTRUIR34_DEPTH, mode=Mode.SUBTRACT)
    extrude(cortar_extruir34_sk.sketch, amount=-CORTAR_EXTRUIR34_DEPTH_BACK, mode=Mode.SUBTRACT)

    # Croquis36 → Cortar-Extruir35 (cut)
    with BuildSketch(Plane(origin=(20, 0, 0), x_dir=(0, 0, -1), z_dir=(1, 0, 0)).offset(CORTAR_EXTRUIR35_START)):
        Polygon((7.5, 16.58771324), (4.75, 18.175426481), (2, 16.58771324), (2, 13.41228676), (4.75, 11.824573519), (7.5, 13.41228676), align=None)
    extrude(amount=-CORTAR_EXTRUIR35_DEPTH, mode=Mode.SUBTRACT)

    # Croquis37 → Saliente-Extruir8 (add)
    with BuildSketch(Plane.XZ.offset(-10)):
        Polygon((-39.160527763, -4.104491148), (-20.614919368, -20), (-15, -20), (-19.558128305, -15.637570403), (-33.014002756, -4.104491148), align=None)
    extrude(amount=-SALIENTE_EXTRUIR8_DEPTH)

    # Croquis38 → Saliente-Extruir9 (add)
    with BuildSketch(Plane.XZ.offset(-10)):
        Polygon((-58.825, 12.75), (-38.825, 12.75), (-38.825, 9.75), (-55.324839942, 9.75), align=None)
    extrude(amount=SALIENTE_EXTRUIR9_DEPTH)

    # Croquis39 → Saliente-Extruir10 (add)
    with BuildSketch(Plane.XZ.offset(-10)):
        Polygon((-38.825, 9.75), (-38.825, 7.75), (-38.825, 5.75), (-50.657959865, 5.75), (-52.991399903, 7.75), (-55.324839942, 9.75), align=None)
    extrude(amount=SALIENTE_EXTRUIR10_DEPTH)

    # Simetría3: body 2 across face


with BuildPart() as body_2_2:
    add(body_2_1.part)
    add(body_2_1.part.mirror(Plane(origin=(-18.003999227, 20, -4.220503046), x_dir=(0, 0, 1), z_dir=(0, 1, 0))))

    # Croquis40 → Cortar-Extruir36 (cut, two sides)
    with BuildSketch(Plane(origin=(0, 0, -20), x_dir=(-1, 0, 0), z_dir=(0, 0, -1))) as cortar_extruir36_sk:
        with Locations((22.395502026, -3.695757982)):
            Rectangle(CROQUIS40_W, CROQUIS40_H)
    extrude(amount=CORTAR_EXTRUIR36_DEPTH, mode=Mode.SUBTRACT)
    extrude(cortar_extruir36_sk.sketch, amount=-CORTAR_EXTRUIR36_DEPTH_BACK, mode=Mode.SUBTRACT)

    # Croquis41 → Cortar-Extruir37 (cut, two sides)
    with BuildSketch(Plane.XZ.offset(-20)) as cortar_extruir37_sk:
        Polygon((-19.992980133, -22.302484261), (-20, 3.75), (-24, 7.75), (-56.035110209, 7.75), align=None)
    extrude(amount=CORTAR_EXTRUIR37_DEPTH, mode=Mode.SUBTRACT)
    extrude(cortar_extruir37_sk.sketch, amount=-CORTAR_EXTRUIR37_DEPTH_BACK, mode=Mode.SUBTRACT)

    # Croquis42 → Cortar-Extruir38 (cut, two sides)
    with BuildSketch(Plane(origin=(0, 0, 9.75), x_dir=(-1, 0, 0), z_dir=(0, 0, -1))) as cortar_extruir38_sk:
        Polygon((46.720301378, 20), (46.720301378, 30), (38.825, 30), (33.492952769, 43.760628779), (49.525340398, 48.951442806), (67.200390695, 42.512205152), (65.906601328, 20), (51.713995885, 13.864168239), align=None)
    extrude(amount=CORTAR_EXTRUIR38_DEPTH, mode=Mode.SUBTRACT)
    extrude(cortar_extruir38_sk.sketch, amount=-CORTAR_EXTRUIR38_DEPTH_BACK, mode=Mode.SUBTRACT)

    # Croquis43 → Saliente-Extruir11 (add)
    with BuildSketch(Plane.XZ.offset(-20)):
        Polygon((-19.993600539, -20), (-46.720301378, 7.75), (-43.839252857, 10.524807997), (-17.112552018, -17.225192003), align=None)
    extrude(amount=-SALIENTE_EXTRUIR11_DEPTH)

    # Croquis44 → Cortar-Extruir39 (cut, through all)
    with BuildSketch(Plane(origin=(0, 0, 9.75), x_dir=(-1, 0, 0), z_dir=(0, 0, -1))):
        Polygon((38.957161657, 27.75), (37.369448416, 25), (38.957161657, 22.25), (42.132588137, 22.25), (43.720301378, 25), (42.132588137, 27.75), align=None)
    extrude(amount=CORTAR_EXTRUIR39_DEPTH, mode=Mode.SUBTRACT)

    # Croquis45 → Saliente-Extruir12 (add)
    with BuildSketch(Plane.XY.offset(12.75)):
        with Locations((-30.985150689, 25)):
            Rectangle(CROQUIS45_W, CROQUIS45_H)
        with Locations((-40.544874897, 25)):
            Circle(CROQUIS45_R, mode=Mode.SUBTRACT)
        with Locations((-29, 25)):
            Circle(CROQUIS45_R, mode=Mode.SUBTRACT)
    extrude(amount=SALIENTE_EXTRUIR12_DEPTH)

    # Croquis46 → Saliente-Extruir13 (add)
    with BuildSketch(Plane.XZ.offset(-20)):
        with BuildLine():
            Line((15.25, 0), (20, 0))
            Line((20, 0), (20, 15.25))
            Line((20, 15.25), (7.549834435, 15.25))
            Line((7.549834435, 15.25), (7.549834435, 13.25))
            ThreePointArc((7.549834435, 13.25), (13.185171124, 7.662490615), (15.25, 0))
        make_face()
        with BuildLine():
            Line((-15.25, 0), (-15.25, 15.25))
            Line((-15.25, 15.25), (-7.549834435, 15.25))
            Line((-7.549834435, 15.25), (-7.549834435, 13.25))
            ThreePointArc((-7.549834435, 13.25), (-13.185171124, 7.662490615), (-15.25, 0))
        make_face()
    extrude(amount=-SALIENTE_EXTRUIR13_DEPTH)

    # Croquis47 → Cortar-Extruir40 (cut)
    with BuildSketch(Plane.XY.offset(15.25).offset(CORTAR_EXTRUIR40_START)):
        Polygon((15.41228676, 22.352505966), (17, 25.102505966), (15.41228676, 27.852505966), (12.236860279, 27.852505966), (10.649147039, 25.102505966), (12.236860279, 22.352505966), align=None)
        with Locations((13.824573519, 25.102505966)):
            Circle(CROQUIS47_R, mode=Mode.SUBTRACT)
        Polygon((-12.236860279, 22.352505966), (-15.41228676, 22.352505966), (-17, 25.102505966), (-15.41228676, 27.852505966), (-12.236860279, 27.852505966), (-10.649147039, 25.102505966), align=None)
        with Locations(Location((-13.824573519, 25.102505966, 0), (0, 0, 131.421584744))):
            Circle(CROQUIS47_R, mode=Mode.SUBTRACT)
    extrude(amount=-CORTAR_EXTRUIR40_DEPTH, mode=Mode.SUBTRACT)

    # Croquis48 → Cortar-Extruir41 (cut)
    with BuildSketch(Plane.XY.offset(15.25).offset(CORTAR_EXTRUIR41_START)):
        with Locations((13.824573519, 25.102505966)):
            Circle(CROQUIS48_R)
        with Locations((-13.824573519, 25.102505966)):
            Circle(CROQUIS48_R)
    extrude(amount=CORTAR_EXTRUIR41_DEPTH, mode=Mode.SUBTRACT)

    # Croquis49 → Cortar-Extruir42 (cut)
    with BuildSketch(Plane(origin=(0, 30, 0), x_dir=(1, 0, 0), z_dir=(0, 1, 0))):
        Polygon((-12.979274058, 11.5), (-10.958548116, 15), (-12.979274058, 18.5), (-17.020725942, 18.5), (-19.041451884, 15), (-17.020725942, 11.5), align=None)
        Polygon((17.020725942, 11.5), (19.041451884, 15), (17.020725942, 18.5), (12.979274058, 18.5), (10.958548116, 15), (12.979274058, 11.5), align=None)
    extrude(amount=-CORTAR_EXTRUIR42_DEPTH, mode=Mode.SUBTRACT)

    # Simetría4: body 2 across plane


with BuildPart() as body_2_3:
    add(body_2_2.part)
    add(body_2_2.part.mirror(Plane(origin=(30.896266894, 20, 12.75), x_dir=(0, 0, 1), z_dir=(0, 1, 0))))

    # Croquis50 → Cortar-Extruir43 (cut, two sides)
    with BuildSketch(Plane(origin=(0, 0, -20), x_dir=(-1, 0, 0), z_dir=(0, 0, -1))) as cortar_extruir43_sk:
        with Locations((12.268612219, 28.072851577)):
            Rectangle(CROQUIS50_W, CROQUIS50_H)
    extrude(amount=CORTAR_EXTRUIR43_DEPTH, mode=Mode.SUBTRACT)
    extrude(cortar_extruir43_sk.sketch, amount=-CORTAR_EXTRUIR43_DEPTH_BACK, mode=Mode.SUBTRACT)


solid = body_2_3.part
